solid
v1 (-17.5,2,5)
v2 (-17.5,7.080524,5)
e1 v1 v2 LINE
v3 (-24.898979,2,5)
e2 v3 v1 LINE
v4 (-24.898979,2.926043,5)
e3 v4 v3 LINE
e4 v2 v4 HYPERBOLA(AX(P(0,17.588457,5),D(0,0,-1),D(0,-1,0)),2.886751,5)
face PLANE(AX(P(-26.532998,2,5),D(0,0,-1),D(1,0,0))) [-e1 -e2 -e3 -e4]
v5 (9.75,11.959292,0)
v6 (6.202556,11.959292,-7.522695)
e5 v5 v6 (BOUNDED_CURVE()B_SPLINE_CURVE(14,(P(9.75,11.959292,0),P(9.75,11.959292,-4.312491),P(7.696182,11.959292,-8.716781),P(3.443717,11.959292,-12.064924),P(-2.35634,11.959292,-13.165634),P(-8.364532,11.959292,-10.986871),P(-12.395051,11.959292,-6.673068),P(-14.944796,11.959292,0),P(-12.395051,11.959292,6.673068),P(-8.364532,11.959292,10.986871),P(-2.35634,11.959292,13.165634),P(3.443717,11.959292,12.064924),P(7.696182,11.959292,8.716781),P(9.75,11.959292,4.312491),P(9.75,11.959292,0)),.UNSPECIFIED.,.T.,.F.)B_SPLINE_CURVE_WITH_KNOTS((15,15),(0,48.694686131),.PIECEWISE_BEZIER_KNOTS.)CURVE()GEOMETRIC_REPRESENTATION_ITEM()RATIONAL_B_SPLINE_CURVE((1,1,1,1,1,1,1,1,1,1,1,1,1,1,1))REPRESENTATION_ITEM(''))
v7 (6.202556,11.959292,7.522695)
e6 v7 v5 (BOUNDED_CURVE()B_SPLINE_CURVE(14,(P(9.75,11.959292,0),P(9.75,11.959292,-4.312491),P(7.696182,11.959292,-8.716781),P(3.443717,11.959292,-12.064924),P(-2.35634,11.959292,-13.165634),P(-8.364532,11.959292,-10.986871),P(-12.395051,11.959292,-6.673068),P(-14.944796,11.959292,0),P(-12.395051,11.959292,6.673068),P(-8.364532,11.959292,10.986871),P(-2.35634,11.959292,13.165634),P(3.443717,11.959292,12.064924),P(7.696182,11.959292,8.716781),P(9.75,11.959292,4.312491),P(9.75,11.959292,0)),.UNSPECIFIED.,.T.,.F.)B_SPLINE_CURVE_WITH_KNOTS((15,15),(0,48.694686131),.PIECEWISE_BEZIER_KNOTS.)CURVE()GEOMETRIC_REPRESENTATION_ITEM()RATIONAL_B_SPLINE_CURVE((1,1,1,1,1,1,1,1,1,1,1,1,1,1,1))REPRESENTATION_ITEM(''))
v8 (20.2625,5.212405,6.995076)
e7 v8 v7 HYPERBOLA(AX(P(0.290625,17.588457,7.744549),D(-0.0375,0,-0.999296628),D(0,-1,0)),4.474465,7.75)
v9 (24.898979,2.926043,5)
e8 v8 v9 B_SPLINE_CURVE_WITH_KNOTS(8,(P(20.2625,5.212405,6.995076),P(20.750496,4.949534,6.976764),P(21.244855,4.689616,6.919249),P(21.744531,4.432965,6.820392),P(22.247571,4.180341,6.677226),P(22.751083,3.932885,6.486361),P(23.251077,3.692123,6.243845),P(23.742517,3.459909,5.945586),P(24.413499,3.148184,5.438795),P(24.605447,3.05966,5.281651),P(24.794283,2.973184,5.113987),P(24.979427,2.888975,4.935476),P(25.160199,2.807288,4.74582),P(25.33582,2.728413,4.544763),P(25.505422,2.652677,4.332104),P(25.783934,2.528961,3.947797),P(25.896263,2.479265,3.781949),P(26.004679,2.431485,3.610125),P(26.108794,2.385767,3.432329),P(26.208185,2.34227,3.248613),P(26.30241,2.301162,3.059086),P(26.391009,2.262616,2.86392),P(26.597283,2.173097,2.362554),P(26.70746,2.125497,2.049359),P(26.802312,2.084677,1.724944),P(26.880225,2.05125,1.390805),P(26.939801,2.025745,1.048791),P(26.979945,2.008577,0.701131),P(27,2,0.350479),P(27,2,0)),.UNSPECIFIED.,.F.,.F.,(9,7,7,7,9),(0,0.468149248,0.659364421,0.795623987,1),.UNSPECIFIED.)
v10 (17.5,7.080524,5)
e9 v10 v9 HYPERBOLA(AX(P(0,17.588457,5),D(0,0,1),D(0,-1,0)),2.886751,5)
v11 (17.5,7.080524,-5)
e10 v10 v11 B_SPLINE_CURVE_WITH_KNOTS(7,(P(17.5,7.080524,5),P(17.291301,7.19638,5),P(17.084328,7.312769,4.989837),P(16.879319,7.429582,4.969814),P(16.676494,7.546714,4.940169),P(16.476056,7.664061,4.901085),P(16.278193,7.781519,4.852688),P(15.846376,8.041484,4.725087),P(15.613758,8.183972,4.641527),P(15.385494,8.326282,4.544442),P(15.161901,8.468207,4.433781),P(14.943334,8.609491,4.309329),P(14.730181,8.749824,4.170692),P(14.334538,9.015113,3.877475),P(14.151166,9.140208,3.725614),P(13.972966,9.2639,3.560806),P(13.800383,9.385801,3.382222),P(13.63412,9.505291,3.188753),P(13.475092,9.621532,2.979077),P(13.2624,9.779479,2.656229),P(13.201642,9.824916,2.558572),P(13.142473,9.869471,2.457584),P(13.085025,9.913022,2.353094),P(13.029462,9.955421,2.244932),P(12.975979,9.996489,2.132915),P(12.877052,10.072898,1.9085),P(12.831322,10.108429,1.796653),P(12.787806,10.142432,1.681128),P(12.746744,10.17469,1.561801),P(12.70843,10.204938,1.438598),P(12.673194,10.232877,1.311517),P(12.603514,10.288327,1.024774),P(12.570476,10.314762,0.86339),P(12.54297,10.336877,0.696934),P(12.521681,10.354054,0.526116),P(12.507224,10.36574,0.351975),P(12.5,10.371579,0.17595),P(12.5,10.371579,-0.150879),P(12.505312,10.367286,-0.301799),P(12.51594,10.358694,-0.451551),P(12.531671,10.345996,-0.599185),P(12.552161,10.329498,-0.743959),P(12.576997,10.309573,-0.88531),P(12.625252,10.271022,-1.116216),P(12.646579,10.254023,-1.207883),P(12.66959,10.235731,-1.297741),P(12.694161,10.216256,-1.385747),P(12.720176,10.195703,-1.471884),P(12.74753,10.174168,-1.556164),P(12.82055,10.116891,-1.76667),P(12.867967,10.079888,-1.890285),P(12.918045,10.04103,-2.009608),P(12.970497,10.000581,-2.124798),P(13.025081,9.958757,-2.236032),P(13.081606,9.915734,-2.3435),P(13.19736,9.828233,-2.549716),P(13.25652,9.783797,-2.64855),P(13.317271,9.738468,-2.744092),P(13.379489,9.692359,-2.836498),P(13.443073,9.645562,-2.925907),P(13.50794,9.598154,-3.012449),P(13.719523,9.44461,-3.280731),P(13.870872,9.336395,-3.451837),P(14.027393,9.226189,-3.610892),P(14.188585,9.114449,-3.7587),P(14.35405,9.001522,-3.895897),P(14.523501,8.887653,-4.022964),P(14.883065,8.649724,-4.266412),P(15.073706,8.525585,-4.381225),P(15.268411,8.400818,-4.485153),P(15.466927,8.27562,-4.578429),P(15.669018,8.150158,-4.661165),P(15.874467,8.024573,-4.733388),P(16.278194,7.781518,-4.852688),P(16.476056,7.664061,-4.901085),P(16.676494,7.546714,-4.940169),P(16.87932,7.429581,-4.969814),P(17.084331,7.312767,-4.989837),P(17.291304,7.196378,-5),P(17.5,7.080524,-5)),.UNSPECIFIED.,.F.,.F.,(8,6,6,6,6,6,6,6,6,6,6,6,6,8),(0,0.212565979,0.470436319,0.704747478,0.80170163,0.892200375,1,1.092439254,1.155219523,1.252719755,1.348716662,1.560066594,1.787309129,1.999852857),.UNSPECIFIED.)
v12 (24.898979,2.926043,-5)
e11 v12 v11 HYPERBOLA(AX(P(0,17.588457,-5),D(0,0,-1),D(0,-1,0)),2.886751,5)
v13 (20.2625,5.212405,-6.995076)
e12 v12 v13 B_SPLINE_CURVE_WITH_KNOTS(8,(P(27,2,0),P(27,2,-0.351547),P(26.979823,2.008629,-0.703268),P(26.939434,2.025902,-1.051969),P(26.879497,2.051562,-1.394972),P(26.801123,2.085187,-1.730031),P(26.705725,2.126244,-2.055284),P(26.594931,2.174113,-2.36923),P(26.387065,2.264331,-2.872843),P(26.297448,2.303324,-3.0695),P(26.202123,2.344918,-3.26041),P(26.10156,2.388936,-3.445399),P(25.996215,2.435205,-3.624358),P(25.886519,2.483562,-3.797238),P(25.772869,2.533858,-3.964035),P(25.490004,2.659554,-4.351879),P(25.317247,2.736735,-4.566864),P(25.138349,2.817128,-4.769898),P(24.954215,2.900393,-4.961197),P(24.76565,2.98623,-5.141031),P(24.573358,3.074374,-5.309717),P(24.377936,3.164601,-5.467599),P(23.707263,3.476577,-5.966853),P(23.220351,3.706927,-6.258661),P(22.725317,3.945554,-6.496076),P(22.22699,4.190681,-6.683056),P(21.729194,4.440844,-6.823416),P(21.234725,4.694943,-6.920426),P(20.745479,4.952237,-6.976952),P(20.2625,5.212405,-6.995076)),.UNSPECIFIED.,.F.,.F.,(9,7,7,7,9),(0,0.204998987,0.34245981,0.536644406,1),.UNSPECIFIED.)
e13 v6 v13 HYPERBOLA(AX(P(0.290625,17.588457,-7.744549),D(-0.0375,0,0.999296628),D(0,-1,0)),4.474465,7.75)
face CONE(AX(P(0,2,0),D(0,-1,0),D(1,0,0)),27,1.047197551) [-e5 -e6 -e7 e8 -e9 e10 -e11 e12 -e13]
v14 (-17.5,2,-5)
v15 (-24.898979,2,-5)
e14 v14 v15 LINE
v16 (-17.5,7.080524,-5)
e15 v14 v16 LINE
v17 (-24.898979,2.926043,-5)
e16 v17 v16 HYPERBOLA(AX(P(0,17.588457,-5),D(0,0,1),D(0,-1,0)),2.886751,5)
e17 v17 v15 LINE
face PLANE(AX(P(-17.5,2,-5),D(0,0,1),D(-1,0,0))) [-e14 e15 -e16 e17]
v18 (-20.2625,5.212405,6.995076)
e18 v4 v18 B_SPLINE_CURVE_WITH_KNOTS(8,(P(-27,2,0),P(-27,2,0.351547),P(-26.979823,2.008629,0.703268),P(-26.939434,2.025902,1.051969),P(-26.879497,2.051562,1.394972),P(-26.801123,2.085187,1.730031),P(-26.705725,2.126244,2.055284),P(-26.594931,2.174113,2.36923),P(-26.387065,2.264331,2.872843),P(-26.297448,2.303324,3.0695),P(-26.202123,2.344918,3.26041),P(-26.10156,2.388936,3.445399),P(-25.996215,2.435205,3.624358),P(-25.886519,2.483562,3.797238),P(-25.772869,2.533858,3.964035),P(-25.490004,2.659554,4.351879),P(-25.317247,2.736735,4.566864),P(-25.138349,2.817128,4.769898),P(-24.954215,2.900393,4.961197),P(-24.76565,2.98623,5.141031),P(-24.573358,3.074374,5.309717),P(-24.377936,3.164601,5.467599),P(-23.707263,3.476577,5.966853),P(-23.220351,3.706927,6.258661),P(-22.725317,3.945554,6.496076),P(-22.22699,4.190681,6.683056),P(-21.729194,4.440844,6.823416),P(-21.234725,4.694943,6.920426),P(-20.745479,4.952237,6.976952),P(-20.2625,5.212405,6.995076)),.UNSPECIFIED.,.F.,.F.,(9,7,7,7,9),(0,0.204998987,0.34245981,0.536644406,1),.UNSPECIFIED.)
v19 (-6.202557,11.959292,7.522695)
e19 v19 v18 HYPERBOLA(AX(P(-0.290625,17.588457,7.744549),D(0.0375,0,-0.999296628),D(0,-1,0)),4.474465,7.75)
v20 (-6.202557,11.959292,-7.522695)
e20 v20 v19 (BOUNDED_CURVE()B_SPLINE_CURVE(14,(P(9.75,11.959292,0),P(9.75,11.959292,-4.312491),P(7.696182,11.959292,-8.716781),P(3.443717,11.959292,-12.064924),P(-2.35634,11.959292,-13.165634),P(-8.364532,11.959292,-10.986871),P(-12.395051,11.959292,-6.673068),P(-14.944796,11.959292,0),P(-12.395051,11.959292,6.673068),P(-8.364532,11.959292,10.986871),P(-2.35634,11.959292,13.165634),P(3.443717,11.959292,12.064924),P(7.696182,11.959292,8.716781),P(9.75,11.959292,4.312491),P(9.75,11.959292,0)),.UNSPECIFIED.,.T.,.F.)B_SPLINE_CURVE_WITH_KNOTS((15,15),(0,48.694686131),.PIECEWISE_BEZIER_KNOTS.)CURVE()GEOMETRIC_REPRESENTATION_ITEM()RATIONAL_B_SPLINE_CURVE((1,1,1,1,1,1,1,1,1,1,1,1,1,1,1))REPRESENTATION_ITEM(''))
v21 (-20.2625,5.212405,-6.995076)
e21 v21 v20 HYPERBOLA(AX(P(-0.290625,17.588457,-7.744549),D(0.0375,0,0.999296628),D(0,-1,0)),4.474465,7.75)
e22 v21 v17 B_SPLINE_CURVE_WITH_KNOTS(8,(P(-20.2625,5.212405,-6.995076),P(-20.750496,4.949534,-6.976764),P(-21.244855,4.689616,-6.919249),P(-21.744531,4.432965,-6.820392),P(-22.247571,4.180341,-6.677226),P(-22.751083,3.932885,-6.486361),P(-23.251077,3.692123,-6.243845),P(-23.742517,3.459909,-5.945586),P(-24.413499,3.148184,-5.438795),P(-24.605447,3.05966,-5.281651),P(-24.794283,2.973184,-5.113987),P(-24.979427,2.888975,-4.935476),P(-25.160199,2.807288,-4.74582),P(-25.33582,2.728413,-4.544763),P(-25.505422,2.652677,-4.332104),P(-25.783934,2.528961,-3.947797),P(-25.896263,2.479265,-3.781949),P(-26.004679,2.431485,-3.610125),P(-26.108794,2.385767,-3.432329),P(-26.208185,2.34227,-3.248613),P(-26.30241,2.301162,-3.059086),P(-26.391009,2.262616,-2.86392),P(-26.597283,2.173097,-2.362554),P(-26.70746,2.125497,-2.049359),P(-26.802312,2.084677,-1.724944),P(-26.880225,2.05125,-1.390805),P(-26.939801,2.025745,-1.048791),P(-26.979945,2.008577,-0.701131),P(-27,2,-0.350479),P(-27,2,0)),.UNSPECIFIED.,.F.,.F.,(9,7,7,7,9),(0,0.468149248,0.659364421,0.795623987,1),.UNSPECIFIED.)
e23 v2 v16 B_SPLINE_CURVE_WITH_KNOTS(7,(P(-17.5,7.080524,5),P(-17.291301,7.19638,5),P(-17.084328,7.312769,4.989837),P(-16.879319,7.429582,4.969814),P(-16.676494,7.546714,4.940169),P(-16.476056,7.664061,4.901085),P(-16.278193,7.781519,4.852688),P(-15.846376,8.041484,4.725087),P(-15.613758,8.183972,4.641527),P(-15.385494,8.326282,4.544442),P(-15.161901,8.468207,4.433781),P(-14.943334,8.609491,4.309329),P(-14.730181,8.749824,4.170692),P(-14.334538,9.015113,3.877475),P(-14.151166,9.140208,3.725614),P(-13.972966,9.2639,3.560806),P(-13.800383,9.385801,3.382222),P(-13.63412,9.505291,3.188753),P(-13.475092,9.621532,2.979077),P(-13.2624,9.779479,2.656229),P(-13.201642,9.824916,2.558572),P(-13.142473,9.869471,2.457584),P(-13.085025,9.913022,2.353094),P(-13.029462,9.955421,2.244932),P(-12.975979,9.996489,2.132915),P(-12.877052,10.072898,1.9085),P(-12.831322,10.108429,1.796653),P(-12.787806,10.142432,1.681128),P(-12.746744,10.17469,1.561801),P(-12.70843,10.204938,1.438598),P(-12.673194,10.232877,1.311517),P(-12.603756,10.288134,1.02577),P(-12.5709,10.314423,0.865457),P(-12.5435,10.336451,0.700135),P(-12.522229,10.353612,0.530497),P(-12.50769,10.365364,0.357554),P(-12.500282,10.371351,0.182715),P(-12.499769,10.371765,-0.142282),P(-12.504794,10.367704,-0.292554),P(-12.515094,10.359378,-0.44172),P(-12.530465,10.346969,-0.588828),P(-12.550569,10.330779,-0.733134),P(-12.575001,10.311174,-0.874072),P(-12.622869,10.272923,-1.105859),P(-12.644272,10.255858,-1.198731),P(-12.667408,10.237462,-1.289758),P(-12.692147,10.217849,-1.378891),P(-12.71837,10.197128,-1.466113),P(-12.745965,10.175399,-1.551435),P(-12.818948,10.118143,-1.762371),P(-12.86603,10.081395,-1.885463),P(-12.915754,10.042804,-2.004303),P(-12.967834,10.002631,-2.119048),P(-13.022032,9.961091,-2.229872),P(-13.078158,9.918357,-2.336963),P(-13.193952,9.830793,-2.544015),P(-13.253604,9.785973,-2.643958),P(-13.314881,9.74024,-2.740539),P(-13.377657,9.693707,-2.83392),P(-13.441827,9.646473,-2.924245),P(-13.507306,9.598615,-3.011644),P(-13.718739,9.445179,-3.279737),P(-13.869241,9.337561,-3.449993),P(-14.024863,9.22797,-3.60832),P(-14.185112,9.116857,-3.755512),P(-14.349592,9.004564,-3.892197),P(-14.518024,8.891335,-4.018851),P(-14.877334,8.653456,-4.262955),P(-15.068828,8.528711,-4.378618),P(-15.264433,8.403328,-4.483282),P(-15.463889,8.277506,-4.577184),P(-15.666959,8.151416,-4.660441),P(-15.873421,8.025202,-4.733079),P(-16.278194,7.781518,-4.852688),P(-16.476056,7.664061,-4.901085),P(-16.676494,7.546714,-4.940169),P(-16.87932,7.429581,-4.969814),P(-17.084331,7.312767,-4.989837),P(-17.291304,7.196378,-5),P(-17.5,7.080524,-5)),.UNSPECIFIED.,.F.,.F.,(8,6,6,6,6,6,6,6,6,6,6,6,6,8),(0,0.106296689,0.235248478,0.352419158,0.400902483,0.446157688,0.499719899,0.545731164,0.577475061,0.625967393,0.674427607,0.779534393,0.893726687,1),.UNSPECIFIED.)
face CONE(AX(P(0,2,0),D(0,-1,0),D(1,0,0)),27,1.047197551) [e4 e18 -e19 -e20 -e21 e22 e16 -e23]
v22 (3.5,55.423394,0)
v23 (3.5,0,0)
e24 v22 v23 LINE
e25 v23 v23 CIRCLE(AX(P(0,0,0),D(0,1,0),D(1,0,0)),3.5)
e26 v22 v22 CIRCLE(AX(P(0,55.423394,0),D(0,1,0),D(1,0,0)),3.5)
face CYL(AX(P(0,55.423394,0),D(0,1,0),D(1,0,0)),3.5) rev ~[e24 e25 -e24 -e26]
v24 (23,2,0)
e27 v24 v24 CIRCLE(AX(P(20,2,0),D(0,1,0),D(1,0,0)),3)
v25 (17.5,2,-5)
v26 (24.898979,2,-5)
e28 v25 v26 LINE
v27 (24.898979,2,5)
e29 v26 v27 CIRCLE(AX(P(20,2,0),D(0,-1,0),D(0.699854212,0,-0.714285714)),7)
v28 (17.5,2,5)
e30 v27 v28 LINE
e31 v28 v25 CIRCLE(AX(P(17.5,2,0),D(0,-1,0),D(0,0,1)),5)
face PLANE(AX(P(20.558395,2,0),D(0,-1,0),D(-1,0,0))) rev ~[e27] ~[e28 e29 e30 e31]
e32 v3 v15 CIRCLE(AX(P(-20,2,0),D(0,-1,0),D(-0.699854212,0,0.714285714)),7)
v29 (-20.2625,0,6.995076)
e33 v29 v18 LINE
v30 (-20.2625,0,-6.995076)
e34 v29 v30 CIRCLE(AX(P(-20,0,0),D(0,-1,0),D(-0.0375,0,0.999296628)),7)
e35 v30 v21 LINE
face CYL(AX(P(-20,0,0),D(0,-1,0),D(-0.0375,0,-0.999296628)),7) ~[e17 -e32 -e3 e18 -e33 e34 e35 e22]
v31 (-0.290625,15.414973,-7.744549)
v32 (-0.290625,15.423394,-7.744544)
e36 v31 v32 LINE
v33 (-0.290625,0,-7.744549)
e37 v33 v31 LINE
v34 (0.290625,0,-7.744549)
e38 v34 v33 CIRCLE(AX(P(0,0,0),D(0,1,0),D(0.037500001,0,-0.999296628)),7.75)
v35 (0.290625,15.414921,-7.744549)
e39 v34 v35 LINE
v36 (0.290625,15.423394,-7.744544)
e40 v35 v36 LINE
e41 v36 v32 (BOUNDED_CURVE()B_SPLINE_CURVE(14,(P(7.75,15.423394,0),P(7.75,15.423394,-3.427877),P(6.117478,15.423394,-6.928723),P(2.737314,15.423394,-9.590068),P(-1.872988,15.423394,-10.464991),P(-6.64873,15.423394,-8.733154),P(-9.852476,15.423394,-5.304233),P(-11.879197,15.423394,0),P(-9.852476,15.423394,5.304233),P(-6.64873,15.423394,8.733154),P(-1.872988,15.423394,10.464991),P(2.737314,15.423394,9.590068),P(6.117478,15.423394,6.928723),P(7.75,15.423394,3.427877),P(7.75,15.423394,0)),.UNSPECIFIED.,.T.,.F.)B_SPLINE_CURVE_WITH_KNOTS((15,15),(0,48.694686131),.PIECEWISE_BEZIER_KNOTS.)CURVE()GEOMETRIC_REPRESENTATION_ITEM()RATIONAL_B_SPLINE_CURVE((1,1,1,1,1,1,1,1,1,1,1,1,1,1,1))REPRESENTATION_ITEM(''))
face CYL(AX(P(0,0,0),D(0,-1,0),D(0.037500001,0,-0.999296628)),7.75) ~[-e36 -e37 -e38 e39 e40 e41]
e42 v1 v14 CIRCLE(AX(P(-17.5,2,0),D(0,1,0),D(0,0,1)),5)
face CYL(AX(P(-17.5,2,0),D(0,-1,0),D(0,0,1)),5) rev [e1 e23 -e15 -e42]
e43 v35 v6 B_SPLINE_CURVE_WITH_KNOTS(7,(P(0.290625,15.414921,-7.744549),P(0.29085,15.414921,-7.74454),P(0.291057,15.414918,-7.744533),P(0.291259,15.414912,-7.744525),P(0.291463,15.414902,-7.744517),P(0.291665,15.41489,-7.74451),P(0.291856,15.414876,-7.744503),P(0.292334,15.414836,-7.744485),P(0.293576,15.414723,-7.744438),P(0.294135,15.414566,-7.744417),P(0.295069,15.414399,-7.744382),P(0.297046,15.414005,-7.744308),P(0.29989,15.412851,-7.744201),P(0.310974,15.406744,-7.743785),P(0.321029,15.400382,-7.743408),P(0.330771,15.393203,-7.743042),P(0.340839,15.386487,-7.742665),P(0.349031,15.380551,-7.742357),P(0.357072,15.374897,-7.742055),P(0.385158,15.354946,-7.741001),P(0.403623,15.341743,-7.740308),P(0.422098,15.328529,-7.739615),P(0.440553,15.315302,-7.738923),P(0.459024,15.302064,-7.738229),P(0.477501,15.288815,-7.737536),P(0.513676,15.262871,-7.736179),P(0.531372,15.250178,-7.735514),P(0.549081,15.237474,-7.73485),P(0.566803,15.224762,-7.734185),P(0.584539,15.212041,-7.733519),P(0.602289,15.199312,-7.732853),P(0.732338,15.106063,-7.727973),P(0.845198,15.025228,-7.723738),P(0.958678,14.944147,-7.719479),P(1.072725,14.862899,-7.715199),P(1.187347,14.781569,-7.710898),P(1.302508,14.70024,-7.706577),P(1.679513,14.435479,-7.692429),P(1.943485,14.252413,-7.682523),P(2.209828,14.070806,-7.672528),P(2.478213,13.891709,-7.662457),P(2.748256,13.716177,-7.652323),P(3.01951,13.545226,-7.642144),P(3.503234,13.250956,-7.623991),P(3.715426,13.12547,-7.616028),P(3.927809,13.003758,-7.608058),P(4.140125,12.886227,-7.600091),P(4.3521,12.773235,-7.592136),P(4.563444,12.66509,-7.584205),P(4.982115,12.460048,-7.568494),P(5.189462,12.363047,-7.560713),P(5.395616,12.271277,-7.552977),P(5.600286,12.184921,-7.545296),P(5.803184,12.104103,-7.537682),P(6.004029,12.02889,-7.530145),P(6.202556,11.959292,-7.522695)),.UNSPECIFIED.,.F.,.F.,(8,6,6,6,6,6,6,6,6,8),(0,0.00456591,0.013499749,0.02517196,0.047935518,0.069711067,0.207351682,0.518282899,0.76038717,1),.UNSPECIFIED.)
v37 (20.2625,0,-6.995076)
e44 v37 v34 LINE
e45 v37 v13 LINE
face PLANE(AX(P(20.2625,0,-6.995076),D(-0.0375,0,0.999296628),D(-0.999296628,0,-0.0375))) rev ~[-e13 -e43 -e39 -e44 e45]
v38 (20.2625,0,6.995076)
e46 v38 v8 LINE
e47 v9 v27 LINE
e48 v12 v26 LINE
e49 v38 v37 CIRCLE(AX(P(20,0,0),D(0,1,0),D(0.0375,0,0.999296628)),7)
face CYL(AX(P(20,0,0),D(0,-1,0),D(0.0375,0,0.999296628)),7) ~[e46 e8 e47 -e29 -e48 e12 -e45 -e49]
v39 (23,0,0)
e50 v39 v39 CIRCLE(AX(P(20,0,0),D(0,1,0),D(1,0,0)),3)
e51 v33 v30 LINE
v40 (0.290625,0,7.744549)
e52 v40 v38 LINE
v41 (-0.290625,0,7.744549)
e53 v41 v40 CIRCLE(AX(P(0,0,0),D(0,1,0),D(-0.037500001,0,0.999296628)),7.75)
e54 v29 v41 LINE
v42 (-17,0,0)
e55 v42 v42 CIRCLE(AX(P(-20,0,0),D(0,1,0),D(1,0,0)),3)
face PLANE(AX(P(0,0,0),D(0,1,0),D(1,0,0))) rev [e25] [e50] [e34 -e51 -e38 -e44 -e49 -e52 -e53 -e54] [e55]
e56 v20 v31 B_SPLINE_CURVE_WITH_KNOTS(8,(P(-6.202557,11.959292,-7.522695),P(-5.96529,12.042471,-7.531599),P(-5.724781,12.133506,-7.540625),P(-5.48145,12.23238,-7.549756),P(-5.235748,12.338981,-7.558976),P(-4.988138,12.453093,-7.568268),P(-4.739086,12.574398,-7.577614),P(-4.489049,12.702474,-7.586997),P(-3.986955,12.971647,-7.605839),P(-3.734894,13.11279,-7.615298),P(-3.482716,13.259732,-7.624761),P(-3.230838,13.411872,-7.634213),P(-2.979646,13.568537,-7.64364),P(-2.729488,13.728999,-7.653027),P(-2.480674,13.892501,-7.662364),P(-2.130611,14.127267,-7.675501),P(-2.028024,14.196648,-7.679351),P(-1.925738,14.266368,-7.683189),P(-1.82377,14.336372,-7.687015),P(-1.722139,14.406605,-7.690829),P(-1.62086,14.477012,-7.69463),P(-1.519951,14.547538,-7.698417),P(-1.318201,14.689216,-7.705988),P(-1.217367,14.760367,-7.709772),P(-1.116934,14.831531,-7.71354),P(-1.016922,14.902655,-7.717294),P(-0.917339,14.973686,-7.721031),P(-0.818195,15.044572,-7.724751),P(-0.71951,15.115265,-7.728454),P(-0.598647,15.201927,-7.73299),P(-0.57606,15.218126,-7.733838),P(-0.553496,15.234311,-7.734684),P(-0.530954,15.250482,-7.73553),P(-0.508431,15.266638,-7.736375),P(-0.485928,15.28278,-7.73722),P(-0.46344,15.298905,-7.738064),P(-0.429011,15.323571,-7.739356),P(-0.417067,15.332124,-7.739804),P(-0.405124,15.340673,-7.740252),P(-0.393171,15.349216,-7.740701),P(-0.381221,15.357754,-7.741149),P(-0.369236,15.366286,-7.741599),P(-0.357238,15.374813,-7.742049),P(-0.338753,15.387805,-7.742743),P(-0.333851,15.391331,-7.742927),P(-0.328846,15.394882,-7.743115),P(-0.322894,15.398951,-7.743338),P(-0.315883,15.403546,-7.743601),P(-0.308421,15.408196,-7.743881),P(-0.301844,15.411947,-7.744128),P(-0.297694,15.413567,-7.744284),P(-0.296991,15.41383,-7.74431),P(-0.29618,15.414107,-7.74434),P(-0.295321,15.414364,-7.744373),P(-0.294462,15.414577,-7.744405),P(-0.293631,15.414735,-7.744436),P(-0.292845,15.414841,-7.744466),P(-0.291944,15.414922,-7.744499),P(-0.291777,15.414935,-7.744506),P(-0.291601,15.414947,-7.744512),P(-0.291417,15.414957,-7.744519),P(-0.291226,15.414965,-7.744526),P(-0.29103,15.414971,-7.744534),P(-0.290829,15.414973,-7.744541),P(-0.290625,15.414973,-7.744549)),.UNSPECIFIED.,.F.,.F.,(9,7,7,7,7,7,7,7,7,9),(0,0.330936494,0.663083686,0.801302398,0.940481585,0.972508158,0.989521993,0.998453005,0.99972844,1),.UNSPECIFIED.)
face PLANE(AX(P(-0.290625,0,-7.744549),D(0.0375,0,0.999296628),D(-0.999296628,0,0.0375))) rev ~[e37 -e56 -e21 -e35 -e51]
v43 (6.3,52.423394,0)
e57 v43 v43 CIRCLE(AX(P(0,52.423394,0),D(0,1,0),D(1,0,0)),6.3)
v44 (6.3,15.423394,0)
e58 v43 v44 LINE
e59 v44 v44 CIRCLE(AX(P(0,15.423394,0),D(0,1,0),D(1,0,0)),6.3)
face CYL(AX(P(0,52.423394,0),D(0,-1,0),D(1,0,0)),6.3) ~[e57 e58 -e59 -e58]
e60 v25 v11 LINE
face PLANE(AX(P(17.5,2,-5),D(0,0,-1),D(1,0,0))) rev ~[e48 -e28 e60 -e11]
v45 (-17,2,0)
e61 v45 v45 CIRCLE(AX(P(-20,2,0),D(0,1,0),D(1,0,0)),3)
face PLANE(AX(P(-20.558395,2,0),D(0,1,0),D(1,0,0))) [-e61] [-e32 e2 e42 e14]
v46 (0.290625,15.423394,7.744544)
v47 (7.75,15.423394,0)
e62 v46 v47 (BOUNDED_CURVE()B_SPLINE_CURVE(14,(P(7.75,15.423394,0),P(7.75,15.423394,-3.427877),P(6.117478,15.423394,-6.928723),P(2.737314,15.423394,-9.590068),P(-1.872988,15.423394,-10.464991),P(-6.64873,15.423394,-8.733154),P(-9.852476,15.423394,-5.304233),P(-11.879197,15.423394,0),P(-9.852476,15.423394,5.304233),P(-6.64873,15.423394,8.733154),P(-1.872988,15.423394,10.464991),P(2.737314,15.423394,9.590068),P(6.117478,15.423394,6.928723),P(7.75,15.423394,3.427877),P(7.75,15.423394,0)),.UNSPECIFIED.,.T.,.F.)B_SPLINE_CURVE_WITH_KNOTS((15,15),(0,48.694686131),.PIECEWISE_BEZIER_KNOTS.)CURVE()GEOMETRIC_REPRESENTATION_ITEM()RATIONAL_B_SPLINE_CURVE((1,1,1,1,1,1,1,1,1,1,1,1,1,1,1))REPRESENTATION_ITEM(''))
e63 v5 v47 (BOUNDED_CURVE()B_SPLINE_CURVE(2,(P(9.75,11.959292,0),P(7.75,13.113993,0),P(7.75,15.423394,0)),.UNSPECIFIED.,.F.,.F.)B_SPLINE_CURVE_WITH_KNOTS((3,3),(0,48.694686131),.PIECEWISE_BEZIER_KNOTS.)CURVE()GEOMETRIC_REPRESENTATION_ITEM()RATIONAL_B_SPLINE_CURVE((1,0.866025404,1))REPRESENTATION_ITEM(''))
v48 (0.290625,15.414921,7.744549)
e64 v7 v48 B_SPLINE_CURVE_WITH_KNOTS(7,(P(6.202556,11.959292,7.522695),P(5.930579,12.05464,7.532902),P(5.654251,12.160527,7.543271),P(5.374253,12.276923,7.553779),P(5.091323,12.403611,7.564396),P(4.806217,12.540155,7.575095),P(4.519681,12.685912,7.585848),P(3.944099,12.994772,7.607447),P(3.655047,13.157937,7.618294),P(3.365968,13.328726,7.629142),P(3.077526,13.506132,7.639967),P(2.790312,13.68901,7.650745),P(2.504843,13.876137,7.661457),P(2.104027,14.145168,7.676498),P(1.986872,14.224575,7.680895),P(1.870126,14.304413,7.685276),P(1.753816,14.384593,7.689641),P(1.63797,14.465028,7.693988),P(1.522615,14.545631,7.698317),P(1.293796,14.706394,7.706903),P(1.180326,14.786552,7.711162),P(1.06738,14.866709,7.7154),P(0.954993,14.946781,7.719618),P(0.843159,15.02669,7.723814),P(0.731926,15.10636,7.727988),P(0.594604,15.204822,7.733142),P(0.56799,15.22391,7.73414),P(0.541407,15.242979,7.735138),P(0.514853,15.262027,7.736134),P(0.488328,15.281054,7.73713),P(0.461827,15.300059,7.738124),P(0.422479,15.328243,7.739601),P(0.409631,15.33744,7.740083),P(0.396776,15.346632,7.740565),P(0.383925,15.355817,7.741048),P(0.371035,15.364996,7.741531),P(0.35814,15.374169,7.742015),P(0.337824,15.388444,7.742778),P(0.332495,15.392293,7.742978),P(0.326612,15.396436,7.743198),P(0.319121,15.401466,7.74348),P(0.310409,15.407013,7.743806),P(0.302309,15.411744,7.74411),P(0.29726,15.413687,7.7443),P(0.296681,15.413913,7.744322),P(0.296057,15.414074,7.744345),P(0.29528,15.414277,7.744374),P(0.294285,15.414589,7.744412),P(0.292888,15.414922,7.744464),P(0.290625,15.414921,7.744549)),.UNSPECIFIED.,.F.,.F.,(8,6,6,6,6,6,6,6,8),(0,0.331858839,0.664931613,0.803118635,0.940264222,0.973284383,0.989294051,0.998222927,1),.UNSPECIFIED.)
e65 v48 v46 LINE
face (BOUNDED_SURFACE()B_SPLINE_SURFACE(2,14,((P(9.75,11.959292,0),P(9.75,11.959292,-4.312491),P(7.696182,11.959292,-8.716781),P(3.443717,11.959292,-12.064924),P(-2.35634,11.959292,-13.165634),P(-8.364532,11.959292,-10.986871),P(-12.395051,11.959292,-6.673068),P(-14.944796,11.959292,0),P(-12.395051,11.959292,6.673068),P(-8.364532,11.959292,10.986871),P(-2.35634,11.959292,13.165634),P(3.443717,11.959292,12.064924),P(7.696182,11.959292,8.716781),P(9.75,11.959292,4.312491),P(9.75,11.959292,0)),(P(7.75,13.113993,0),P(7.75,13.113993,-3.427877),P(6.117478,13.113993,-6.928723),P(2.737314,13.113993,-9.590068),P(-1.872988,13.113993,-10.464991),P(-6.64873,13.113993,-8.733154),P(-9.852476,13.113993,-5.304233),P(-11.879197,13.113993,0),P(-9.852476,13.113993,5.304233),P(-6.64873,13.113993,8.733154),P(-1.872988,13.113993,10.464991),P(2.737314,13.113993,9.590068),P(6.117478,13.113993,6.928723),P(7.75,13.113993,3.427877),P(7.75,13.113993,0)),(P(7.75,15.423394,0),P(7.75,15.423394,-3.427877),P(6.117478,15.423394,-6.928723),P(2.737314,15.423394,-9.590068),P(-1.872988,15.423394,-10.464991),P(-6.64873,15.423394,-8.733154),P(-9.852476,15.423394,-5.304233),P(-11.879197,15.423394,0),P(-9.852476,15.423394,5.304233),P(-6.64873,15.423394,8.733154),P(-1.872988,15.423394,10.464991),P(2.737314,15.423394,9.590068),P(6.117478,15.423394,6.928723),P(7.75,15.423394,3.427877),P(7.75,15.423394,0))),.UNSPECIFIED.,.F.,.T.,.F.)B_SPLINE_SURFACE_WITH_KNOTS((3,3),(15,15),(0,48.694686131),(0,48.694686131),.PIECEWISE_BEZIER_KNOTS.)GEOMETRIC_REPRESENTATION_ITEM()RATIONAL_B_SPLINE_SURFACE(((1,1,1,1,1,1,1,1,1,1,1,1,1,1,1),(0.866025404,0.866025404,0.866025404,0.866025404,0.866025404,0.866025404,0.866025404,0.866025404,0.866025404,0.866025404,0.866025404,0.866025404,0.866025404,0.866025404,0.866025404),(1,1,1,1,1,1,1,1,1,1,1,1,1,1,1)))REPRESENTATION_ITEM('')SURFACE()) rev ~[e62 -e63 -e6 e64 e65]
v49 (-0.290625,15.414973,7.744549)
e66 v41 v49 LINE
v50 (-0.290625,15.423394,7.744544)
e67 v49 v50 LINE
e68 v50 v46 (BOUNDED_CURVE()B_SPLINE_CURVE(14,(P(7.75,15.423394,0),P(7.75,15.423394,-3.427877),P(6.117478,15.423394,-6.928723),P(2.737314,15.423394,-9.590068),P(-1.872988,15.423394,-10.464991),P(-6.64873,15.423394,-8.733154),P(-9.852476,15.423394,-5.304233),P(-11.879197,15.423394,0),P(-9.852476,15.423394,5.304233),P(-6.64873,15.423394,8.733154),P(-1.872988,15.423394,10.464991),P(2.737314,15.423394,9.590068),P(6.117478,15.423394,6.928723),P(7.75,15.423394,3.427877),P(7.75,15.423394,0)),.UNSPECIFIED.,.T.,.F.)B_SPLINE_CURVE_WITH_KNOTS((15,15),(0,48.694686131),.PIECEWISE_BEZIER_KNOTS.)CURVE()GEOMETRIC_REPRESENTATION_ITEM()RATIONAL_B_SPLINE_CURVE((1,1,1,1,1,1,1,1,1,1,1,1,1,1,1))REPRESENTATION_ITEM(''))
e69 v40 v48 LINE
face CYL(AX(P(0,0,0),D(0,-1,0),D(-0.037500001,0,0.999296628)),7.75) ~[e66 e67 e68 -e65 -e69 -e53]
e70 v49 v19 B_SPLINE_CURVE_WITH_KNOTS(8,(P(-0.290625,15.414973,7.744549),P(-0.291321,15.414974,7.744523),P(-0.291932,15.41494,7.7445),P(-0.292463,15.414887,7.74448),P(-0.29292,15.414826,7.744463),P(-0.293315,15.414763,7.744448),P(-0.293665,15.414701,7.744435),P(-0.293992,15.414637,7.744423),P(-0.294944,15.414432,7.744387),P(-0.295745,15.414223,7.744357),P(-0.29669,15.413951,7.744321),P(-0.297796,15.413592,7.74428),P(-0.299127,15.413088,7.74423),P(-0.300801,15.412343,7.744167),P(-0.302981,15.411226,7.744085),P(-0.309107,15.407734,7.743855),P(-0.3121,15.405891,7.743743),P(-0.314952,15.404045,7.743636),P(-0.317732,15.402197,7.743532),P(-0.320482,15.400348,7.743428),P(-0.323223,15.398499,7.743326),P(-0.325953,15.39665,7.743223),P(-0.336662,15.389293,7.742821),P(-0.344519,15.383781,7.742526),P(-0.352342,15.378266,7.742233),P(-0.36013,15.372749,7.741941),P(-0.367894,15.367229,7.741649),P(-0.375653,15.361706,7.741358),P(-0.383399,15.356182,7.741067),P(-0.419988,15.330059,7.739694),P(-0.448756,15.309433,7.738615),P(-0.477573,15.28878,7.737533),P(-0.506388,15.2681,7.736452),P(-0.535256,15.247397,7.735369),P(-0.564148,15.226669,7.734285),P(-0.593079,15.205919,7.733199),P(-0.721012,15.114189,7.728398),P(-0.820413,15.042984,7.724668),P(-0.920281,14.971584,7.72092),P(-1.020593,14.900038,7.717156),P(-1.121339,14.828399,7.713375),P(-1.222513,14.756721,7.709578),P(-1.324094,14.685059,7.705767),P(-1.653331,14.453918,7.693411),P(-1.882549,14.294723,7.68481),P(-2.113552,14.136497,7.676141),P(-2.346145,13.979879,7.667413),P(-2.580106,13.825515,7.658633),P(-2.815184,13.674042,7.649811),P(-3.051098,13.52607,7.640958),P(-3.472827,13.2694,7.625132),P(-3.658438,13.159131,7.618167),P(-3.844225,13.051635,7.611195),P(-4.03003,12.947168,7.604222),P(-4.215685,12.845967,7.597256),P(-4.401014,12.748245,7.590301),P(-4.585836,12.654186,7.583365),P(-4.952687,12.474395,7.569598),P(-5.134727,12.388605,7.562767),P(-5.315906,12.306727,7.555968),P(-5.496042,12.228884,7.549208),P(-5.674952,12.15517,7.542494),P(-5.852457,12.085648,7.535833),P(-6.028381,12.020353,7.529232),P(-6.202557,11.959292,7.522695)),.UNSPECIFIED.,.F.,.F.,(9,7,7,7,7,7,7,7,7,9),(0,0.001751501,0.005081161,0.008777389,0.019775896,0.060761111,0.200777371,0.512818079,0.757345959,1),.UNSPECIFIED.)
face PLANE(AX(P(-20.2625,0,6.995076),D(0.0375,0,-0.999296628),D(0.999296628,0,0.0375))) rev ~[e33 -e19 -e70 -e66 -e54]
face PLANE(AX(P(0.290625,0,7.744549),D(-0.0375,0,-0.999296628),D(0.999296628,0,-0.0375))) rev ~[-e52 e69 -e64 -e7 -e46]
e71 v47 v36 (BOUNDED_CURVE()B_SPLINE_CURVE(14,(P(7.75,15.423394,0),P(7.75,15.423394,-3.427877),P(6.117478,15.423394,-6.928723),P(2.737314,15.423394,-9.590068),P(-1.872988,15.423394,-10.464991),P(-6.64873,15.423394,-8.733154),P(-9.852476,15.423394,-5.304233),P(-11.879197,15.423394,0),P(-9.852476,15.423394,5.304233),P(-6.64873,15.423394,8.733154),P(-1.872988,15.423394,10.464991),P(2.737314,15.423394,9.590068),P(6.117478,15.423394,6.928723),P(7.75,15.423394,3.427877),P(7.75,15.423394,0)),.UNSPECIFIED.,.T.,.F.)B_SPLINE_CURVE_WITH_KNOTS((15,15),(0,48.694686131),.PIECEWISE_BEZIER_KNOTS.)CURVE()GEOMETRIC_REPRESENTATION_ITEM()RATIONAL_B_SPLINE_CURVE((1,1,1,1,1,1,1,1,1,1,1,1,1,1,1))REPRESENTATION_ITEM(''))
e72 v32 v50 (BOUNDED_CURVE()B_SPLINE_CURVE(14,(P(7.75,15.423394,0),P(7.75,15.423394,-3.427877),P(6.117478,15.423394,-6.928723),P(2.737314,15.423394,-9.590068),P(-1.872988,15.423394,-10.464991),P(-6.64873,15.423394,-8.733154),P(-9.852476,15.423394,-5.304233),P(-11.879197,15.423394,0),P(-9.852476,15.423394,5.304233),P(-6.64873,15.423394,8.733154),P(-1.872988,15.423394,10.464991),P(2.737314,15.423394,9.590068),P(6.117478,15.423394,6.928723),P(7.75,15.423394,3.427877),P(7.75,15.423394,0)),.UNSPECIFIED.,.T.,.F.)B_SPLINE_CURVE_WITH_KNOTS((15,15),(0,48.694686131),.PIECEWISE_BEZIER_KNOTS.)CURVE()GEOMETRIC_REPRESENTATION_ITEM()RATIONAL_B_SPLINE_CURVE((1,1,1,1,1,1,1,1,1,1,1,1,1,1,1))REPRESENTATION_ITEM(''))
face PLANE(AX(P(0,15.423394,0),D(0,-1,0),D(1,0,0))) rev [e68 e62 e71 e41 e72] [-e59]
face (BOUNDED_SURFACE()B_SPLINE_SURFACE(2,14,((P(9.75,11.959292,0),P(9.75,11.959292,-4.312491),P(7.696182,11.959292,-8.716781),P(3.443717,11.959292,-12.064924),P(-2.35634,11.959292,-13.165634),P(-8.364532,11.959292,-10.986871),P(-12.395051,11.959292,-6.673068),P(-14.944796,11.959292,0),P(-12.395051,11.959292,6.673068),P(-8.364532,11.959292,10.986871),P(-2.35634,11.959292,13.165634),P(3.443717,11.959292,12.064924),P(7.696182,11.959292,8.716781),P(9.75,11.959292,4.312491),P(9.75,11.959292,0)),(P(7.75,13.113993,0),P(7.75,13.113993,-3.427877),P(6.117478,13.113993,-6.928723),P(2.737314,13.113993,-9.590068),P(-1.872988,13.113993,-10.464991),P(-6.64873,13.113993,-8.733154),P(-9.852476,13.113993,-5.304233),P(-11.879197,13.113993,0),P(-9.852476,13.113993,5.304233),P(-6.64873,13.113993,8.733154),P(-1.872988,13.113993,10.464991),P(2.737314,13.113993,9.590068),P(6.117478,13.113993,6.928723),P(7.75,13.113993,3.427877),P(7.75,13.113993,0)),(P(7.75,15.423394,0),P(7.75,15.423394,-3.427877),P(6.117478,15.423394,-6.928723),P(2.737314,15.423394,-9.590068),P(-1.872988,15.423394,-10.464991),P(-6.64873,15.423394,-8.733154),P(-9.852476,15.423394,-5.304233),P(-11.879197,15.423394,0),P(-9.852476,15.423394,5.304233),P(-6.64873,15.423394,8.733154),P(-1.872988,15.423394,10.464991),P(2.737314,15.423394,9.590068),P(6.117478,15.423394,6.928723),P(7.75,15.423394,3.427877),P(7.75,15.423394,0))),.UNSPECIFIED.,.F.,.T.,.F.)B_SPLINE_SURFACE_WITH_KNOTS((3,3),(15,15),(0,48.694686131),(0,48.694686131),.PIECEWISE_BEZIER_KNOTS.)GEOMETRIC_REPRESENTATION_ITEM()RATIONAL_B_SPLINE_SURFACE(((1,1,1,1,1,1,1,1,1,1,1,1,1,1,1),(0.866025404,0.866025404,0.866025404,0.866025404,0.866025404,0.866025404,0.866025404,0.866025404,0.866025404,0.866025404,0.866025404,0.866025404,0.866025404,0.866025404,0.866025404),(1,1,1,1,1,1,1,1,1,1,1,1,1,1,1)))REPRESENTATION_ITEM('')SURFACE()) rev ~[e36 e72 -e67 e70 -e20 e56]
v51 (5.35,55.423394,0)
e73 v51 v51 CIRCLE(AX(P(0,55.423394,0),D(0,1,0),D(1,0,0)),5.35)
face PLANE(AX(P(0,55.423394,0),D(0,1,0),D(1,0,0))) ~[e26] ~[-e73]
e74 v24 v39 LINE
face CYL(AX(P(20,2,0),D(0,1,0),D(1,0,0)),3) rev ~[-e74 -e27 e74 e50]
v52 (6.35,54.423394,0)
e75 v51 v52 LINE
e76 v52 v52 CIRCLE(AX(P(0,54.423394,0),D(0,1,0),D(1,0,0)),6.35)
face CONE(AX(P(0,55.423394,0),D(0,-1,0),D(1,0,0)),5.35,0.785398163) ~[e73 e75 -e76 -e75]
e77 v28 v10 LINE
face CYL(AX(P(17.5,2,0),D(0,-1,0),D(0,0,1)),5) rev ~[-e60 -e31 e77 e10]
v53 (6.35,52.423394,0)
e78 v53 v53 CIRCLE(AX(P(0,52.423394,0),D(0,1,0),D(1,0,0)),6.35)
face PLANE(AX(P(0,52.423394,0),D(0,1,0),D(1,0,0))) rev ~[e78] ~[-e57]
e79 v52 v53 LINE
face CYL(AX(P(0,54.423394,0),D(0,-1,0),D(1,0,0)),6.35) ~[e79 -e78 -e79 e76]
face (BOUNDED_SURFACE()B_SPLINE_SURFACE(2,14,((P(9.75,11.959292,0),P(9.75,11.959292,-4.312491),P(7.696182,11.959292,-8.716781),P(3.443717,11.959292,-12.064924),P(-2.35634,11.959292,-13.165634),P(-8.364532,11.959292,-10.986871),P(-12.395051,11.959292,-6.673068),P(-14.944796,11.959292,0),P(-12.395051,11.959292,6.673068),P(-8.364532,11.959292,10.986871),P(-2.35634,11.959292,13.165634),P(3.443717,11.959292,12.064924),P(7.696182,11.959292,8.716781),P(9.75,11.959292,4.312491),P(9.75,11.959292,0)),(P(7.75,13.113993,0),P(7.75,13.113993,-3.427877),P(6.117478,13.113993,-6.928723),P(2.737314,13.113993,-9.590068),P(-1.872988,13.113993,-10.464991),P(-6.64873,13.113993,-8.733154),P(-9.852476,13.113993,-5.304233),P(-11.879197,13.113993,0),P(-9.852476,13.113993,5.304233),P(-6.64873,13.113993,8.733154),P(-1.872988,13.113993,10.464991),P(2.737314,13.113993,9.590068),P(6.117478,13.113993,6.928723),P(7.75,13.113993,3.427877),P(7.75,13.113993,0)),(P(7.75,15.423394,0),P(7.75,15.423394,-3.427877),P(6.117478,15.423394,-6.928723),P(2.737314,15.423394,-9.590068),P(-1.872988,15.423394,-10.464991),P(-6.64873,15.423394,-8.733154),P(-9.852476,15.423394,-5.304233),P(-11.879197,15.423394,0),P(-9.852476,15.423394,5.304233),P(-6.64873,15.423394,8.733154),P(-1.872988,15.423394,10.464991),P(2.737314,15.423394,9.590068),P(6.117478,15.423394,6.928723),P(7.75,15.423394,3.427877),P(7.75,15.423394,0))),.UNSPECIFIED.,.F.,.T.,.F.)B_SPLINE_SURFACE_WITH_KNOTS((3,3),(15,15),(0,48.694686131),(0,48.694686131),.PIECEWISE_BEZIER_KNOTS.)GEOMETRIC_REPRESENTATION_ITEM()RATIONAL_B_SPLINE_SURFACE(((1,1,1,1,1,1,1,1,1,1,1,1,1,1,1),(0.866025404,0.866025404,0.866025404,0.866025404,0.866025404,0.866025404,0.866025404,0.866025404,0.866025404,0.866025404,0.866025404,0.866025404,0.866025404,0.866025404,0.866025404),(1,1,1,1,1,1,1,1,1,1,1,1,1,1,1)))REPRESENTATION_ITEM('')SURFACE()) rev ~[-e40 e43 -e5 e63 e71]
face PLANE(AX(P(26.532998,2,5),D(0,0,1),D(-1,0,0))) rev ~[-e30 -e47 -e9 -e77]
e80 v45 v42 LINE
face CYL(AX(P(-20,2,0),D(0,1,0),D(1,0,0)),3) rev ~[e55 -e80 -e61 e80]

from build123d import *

# Parameters (mm, degrees)
SZKIC1_W                        = 27
SZKIC1_H                        = 25
ZAOKR_GLENIE1_R                 = 4
SZKIC4_R                        = 3
WYTNIJ_WYCI_GNI_CIE3_DEPTH      = 24.0000001
WYTNIJ_WYCI_GNI_CIE3_DEPTH_BACK = 3
WYTNIJ_WYCI_GNI_CIE2_DEPTH      = 24.0000001
SZKIC5_OUTSIDE_W                = 72.072
SZKIC5_OUTSIDE_H                = 72.072
WYTNIJ_WYCI_GNI_CIE4_DEPTH      = 26.0000001
SZKIC8_W                        = 7.75
SZKIC8_H                        = 9.576606241
SZKIC10_R                       = 3.5
WYTNIJ_WYCI_GNI_CIE5_DEPTH      = 56.423393859


with BuildPart() as part:
    # Szkic1 → Obrót1 (revolve)
    with BuildSketch(Plane.XY):
        with Locations((13.5, 12.5)):
            Rectangle(SZKIC1_W, SZKIC1_H)
    revolve(axis=Axis((0, 0, 0), (0, 1, 0)))

    # Szkic2 → Wycięcie-obrót1 (revolve, cut)
    with BuildSketch(Plane.XY):
        Polygon((27, 25), (27, 2), (7.75, 13.113992682), (7.75, 25), align=None)
    revolve(axis=Axis((0, 0, 0), (0, 1, 0)), mode=Mode.SUBTRACT)

    # Zaokrąglenie1
    zaokr_glenie1_edges = [part.edges().sort_by_distance(p)[0] for p in [
        (-7.75, 13.113992682, 0),
    ]]
    fillet(zaokr_glenie1_edges, radius=ZAOKR_GLENIE1_R)

    # Szkic4 → Wytnij-wyciągnięcie3 (cut, two sides)
    with BuildSketch(Plane(origin=(0, 2, 0), x_dir=(1, 0, 0), z_dir=(0, 1, 0))) as wytnij_wyci_gni_cie3_sk:
        with Locations((-20, 0)):
            Circle(SZKIC4_R)
        with Locations((20, 0)):
            Circle(SZKIC4_R)
    extrude(amount=WYTNIJ_WYCI_GNI_CIE3_DEPTH, mode=Mode.SUBTRACT)
    extrude(wytnij_wyci_gni_cie3_sk.sketch, amount=-WYTNIJ_WYCI_GNI_CIE3_DEPTH_BACK, mode=Mode.SUBTRACT)

    # Szkic3 → Wytnij-wyciągnięcie2 (cut, through all)
    with BuildSketch(Plane(origin=(0, 2, 0), x_dir=(1, 0, 0), z_dir=(0, 1, 0))):
        with BuildLine():
            Line((-17.5, 5), (-26.532998323, 5))
            ThreePointArc((-26.532998323, 5), (-27, 0), (-26.532998323, -5))
            Line((-26.532998323, -5), (-17.5, -5))
            ThreePointArc((-17.5, -5), (-12.5, 0), (-17.5, 5))
        make_face()
        with BuildLine():
            Line((17.5, 5), (26.532998323, 5))
            ThreePointArc((26.532998323, 5), (27, 0), (26.532998323, -5))
            Line((26.532998323, -5), (17.5, -5))
            ThreePointArc((17.5, -5), (12.5, 0), (17.5, 5))
        make_face()
    extrude(amount=WYTNIJ_WYCI_GNI_CIE2_DEPTH, mode=Mode.SUBTRACT)

    # Szkic5 outside → Wytnij-wyciągnięcie4 (cut, through all)
    with BuildSketch(Plane.XZ):
        Rectangle(SZKIC5_OUTSIDE_W, SZKIC5_OUTSIDE_H)
        with BuildLine():
            Line((-20.2625, 6.995076393), (-0.290625, 7.744548864))
            ThreePointArc((-0.290625, 7.744548864), (0, 7.75), (0.290625, 7.744548864))
            Line((0.290625, 7.744548864), (20.2625, 6.995076393))
            ThreePointArc((20.2625, 6.995076393), (27, 0), (20.2625, -6.995076393))
            Line((20.2625, -6.995076393), (0.290625, -7.744548864))
            ThreePointArc((0.290625, -7.744548864), (0, -7.75), (-0.290625, -7.744548864))
            Line((-0.290625, -7.744548864), (-20.2625, -6.995076393))
            ThreePointArc((-20.2625, -6.995076393), (-27, 0), (-20.2625, 6.995076393))
        make_face(mode=Mode.SUBTRACT)
    extrude(amount=-WYTNIJ_WYCI_GNI_CIE4_DEPTH, mode=Mode.SUBTRACT)

    # Szkic8 → Wycięcie-obrót2 (revolve, cut)
    with BuildSketch(Plane.XY):
        with Locations((3.875, 20.211696879)):
            Rectangle(SZKIC8_W, SZKIC8_H)
    revolve(axis=Axis((0, 25, 0), (0, -1, 0)), mode=Mode.SUBTRACT)

    # Szkic9 → Obrót2 (revolve)
    with BuildSketch(Plane.XY):
        Polygon((0, 15.423393759), (0, 55.423393759), (5.35, 55.423393759), (6.35, 54.423393759), (6.35, 52.423393759), (6.3, 52.423393759), (6.3, 15.423393759), align=None)
    revolve(axis=Axis((0, 15.423393759, 0), (0, 1, 0)))

    # Szkic10 → Wytnij-wyciągnięcie5 (cut, through all)
    with BuildSketch(Plane(origin=(0, 55.423393759, 0), x_dir=(1, 0, 0), z_dir=(0, 1, 0))):
        Circle(SZKIC10_R)
    extrude(amount=-WYTNIJ_WYCI_GNI_CIE5_DEPTH, mode=Mode.SUBTRACT)


solid = part.part
